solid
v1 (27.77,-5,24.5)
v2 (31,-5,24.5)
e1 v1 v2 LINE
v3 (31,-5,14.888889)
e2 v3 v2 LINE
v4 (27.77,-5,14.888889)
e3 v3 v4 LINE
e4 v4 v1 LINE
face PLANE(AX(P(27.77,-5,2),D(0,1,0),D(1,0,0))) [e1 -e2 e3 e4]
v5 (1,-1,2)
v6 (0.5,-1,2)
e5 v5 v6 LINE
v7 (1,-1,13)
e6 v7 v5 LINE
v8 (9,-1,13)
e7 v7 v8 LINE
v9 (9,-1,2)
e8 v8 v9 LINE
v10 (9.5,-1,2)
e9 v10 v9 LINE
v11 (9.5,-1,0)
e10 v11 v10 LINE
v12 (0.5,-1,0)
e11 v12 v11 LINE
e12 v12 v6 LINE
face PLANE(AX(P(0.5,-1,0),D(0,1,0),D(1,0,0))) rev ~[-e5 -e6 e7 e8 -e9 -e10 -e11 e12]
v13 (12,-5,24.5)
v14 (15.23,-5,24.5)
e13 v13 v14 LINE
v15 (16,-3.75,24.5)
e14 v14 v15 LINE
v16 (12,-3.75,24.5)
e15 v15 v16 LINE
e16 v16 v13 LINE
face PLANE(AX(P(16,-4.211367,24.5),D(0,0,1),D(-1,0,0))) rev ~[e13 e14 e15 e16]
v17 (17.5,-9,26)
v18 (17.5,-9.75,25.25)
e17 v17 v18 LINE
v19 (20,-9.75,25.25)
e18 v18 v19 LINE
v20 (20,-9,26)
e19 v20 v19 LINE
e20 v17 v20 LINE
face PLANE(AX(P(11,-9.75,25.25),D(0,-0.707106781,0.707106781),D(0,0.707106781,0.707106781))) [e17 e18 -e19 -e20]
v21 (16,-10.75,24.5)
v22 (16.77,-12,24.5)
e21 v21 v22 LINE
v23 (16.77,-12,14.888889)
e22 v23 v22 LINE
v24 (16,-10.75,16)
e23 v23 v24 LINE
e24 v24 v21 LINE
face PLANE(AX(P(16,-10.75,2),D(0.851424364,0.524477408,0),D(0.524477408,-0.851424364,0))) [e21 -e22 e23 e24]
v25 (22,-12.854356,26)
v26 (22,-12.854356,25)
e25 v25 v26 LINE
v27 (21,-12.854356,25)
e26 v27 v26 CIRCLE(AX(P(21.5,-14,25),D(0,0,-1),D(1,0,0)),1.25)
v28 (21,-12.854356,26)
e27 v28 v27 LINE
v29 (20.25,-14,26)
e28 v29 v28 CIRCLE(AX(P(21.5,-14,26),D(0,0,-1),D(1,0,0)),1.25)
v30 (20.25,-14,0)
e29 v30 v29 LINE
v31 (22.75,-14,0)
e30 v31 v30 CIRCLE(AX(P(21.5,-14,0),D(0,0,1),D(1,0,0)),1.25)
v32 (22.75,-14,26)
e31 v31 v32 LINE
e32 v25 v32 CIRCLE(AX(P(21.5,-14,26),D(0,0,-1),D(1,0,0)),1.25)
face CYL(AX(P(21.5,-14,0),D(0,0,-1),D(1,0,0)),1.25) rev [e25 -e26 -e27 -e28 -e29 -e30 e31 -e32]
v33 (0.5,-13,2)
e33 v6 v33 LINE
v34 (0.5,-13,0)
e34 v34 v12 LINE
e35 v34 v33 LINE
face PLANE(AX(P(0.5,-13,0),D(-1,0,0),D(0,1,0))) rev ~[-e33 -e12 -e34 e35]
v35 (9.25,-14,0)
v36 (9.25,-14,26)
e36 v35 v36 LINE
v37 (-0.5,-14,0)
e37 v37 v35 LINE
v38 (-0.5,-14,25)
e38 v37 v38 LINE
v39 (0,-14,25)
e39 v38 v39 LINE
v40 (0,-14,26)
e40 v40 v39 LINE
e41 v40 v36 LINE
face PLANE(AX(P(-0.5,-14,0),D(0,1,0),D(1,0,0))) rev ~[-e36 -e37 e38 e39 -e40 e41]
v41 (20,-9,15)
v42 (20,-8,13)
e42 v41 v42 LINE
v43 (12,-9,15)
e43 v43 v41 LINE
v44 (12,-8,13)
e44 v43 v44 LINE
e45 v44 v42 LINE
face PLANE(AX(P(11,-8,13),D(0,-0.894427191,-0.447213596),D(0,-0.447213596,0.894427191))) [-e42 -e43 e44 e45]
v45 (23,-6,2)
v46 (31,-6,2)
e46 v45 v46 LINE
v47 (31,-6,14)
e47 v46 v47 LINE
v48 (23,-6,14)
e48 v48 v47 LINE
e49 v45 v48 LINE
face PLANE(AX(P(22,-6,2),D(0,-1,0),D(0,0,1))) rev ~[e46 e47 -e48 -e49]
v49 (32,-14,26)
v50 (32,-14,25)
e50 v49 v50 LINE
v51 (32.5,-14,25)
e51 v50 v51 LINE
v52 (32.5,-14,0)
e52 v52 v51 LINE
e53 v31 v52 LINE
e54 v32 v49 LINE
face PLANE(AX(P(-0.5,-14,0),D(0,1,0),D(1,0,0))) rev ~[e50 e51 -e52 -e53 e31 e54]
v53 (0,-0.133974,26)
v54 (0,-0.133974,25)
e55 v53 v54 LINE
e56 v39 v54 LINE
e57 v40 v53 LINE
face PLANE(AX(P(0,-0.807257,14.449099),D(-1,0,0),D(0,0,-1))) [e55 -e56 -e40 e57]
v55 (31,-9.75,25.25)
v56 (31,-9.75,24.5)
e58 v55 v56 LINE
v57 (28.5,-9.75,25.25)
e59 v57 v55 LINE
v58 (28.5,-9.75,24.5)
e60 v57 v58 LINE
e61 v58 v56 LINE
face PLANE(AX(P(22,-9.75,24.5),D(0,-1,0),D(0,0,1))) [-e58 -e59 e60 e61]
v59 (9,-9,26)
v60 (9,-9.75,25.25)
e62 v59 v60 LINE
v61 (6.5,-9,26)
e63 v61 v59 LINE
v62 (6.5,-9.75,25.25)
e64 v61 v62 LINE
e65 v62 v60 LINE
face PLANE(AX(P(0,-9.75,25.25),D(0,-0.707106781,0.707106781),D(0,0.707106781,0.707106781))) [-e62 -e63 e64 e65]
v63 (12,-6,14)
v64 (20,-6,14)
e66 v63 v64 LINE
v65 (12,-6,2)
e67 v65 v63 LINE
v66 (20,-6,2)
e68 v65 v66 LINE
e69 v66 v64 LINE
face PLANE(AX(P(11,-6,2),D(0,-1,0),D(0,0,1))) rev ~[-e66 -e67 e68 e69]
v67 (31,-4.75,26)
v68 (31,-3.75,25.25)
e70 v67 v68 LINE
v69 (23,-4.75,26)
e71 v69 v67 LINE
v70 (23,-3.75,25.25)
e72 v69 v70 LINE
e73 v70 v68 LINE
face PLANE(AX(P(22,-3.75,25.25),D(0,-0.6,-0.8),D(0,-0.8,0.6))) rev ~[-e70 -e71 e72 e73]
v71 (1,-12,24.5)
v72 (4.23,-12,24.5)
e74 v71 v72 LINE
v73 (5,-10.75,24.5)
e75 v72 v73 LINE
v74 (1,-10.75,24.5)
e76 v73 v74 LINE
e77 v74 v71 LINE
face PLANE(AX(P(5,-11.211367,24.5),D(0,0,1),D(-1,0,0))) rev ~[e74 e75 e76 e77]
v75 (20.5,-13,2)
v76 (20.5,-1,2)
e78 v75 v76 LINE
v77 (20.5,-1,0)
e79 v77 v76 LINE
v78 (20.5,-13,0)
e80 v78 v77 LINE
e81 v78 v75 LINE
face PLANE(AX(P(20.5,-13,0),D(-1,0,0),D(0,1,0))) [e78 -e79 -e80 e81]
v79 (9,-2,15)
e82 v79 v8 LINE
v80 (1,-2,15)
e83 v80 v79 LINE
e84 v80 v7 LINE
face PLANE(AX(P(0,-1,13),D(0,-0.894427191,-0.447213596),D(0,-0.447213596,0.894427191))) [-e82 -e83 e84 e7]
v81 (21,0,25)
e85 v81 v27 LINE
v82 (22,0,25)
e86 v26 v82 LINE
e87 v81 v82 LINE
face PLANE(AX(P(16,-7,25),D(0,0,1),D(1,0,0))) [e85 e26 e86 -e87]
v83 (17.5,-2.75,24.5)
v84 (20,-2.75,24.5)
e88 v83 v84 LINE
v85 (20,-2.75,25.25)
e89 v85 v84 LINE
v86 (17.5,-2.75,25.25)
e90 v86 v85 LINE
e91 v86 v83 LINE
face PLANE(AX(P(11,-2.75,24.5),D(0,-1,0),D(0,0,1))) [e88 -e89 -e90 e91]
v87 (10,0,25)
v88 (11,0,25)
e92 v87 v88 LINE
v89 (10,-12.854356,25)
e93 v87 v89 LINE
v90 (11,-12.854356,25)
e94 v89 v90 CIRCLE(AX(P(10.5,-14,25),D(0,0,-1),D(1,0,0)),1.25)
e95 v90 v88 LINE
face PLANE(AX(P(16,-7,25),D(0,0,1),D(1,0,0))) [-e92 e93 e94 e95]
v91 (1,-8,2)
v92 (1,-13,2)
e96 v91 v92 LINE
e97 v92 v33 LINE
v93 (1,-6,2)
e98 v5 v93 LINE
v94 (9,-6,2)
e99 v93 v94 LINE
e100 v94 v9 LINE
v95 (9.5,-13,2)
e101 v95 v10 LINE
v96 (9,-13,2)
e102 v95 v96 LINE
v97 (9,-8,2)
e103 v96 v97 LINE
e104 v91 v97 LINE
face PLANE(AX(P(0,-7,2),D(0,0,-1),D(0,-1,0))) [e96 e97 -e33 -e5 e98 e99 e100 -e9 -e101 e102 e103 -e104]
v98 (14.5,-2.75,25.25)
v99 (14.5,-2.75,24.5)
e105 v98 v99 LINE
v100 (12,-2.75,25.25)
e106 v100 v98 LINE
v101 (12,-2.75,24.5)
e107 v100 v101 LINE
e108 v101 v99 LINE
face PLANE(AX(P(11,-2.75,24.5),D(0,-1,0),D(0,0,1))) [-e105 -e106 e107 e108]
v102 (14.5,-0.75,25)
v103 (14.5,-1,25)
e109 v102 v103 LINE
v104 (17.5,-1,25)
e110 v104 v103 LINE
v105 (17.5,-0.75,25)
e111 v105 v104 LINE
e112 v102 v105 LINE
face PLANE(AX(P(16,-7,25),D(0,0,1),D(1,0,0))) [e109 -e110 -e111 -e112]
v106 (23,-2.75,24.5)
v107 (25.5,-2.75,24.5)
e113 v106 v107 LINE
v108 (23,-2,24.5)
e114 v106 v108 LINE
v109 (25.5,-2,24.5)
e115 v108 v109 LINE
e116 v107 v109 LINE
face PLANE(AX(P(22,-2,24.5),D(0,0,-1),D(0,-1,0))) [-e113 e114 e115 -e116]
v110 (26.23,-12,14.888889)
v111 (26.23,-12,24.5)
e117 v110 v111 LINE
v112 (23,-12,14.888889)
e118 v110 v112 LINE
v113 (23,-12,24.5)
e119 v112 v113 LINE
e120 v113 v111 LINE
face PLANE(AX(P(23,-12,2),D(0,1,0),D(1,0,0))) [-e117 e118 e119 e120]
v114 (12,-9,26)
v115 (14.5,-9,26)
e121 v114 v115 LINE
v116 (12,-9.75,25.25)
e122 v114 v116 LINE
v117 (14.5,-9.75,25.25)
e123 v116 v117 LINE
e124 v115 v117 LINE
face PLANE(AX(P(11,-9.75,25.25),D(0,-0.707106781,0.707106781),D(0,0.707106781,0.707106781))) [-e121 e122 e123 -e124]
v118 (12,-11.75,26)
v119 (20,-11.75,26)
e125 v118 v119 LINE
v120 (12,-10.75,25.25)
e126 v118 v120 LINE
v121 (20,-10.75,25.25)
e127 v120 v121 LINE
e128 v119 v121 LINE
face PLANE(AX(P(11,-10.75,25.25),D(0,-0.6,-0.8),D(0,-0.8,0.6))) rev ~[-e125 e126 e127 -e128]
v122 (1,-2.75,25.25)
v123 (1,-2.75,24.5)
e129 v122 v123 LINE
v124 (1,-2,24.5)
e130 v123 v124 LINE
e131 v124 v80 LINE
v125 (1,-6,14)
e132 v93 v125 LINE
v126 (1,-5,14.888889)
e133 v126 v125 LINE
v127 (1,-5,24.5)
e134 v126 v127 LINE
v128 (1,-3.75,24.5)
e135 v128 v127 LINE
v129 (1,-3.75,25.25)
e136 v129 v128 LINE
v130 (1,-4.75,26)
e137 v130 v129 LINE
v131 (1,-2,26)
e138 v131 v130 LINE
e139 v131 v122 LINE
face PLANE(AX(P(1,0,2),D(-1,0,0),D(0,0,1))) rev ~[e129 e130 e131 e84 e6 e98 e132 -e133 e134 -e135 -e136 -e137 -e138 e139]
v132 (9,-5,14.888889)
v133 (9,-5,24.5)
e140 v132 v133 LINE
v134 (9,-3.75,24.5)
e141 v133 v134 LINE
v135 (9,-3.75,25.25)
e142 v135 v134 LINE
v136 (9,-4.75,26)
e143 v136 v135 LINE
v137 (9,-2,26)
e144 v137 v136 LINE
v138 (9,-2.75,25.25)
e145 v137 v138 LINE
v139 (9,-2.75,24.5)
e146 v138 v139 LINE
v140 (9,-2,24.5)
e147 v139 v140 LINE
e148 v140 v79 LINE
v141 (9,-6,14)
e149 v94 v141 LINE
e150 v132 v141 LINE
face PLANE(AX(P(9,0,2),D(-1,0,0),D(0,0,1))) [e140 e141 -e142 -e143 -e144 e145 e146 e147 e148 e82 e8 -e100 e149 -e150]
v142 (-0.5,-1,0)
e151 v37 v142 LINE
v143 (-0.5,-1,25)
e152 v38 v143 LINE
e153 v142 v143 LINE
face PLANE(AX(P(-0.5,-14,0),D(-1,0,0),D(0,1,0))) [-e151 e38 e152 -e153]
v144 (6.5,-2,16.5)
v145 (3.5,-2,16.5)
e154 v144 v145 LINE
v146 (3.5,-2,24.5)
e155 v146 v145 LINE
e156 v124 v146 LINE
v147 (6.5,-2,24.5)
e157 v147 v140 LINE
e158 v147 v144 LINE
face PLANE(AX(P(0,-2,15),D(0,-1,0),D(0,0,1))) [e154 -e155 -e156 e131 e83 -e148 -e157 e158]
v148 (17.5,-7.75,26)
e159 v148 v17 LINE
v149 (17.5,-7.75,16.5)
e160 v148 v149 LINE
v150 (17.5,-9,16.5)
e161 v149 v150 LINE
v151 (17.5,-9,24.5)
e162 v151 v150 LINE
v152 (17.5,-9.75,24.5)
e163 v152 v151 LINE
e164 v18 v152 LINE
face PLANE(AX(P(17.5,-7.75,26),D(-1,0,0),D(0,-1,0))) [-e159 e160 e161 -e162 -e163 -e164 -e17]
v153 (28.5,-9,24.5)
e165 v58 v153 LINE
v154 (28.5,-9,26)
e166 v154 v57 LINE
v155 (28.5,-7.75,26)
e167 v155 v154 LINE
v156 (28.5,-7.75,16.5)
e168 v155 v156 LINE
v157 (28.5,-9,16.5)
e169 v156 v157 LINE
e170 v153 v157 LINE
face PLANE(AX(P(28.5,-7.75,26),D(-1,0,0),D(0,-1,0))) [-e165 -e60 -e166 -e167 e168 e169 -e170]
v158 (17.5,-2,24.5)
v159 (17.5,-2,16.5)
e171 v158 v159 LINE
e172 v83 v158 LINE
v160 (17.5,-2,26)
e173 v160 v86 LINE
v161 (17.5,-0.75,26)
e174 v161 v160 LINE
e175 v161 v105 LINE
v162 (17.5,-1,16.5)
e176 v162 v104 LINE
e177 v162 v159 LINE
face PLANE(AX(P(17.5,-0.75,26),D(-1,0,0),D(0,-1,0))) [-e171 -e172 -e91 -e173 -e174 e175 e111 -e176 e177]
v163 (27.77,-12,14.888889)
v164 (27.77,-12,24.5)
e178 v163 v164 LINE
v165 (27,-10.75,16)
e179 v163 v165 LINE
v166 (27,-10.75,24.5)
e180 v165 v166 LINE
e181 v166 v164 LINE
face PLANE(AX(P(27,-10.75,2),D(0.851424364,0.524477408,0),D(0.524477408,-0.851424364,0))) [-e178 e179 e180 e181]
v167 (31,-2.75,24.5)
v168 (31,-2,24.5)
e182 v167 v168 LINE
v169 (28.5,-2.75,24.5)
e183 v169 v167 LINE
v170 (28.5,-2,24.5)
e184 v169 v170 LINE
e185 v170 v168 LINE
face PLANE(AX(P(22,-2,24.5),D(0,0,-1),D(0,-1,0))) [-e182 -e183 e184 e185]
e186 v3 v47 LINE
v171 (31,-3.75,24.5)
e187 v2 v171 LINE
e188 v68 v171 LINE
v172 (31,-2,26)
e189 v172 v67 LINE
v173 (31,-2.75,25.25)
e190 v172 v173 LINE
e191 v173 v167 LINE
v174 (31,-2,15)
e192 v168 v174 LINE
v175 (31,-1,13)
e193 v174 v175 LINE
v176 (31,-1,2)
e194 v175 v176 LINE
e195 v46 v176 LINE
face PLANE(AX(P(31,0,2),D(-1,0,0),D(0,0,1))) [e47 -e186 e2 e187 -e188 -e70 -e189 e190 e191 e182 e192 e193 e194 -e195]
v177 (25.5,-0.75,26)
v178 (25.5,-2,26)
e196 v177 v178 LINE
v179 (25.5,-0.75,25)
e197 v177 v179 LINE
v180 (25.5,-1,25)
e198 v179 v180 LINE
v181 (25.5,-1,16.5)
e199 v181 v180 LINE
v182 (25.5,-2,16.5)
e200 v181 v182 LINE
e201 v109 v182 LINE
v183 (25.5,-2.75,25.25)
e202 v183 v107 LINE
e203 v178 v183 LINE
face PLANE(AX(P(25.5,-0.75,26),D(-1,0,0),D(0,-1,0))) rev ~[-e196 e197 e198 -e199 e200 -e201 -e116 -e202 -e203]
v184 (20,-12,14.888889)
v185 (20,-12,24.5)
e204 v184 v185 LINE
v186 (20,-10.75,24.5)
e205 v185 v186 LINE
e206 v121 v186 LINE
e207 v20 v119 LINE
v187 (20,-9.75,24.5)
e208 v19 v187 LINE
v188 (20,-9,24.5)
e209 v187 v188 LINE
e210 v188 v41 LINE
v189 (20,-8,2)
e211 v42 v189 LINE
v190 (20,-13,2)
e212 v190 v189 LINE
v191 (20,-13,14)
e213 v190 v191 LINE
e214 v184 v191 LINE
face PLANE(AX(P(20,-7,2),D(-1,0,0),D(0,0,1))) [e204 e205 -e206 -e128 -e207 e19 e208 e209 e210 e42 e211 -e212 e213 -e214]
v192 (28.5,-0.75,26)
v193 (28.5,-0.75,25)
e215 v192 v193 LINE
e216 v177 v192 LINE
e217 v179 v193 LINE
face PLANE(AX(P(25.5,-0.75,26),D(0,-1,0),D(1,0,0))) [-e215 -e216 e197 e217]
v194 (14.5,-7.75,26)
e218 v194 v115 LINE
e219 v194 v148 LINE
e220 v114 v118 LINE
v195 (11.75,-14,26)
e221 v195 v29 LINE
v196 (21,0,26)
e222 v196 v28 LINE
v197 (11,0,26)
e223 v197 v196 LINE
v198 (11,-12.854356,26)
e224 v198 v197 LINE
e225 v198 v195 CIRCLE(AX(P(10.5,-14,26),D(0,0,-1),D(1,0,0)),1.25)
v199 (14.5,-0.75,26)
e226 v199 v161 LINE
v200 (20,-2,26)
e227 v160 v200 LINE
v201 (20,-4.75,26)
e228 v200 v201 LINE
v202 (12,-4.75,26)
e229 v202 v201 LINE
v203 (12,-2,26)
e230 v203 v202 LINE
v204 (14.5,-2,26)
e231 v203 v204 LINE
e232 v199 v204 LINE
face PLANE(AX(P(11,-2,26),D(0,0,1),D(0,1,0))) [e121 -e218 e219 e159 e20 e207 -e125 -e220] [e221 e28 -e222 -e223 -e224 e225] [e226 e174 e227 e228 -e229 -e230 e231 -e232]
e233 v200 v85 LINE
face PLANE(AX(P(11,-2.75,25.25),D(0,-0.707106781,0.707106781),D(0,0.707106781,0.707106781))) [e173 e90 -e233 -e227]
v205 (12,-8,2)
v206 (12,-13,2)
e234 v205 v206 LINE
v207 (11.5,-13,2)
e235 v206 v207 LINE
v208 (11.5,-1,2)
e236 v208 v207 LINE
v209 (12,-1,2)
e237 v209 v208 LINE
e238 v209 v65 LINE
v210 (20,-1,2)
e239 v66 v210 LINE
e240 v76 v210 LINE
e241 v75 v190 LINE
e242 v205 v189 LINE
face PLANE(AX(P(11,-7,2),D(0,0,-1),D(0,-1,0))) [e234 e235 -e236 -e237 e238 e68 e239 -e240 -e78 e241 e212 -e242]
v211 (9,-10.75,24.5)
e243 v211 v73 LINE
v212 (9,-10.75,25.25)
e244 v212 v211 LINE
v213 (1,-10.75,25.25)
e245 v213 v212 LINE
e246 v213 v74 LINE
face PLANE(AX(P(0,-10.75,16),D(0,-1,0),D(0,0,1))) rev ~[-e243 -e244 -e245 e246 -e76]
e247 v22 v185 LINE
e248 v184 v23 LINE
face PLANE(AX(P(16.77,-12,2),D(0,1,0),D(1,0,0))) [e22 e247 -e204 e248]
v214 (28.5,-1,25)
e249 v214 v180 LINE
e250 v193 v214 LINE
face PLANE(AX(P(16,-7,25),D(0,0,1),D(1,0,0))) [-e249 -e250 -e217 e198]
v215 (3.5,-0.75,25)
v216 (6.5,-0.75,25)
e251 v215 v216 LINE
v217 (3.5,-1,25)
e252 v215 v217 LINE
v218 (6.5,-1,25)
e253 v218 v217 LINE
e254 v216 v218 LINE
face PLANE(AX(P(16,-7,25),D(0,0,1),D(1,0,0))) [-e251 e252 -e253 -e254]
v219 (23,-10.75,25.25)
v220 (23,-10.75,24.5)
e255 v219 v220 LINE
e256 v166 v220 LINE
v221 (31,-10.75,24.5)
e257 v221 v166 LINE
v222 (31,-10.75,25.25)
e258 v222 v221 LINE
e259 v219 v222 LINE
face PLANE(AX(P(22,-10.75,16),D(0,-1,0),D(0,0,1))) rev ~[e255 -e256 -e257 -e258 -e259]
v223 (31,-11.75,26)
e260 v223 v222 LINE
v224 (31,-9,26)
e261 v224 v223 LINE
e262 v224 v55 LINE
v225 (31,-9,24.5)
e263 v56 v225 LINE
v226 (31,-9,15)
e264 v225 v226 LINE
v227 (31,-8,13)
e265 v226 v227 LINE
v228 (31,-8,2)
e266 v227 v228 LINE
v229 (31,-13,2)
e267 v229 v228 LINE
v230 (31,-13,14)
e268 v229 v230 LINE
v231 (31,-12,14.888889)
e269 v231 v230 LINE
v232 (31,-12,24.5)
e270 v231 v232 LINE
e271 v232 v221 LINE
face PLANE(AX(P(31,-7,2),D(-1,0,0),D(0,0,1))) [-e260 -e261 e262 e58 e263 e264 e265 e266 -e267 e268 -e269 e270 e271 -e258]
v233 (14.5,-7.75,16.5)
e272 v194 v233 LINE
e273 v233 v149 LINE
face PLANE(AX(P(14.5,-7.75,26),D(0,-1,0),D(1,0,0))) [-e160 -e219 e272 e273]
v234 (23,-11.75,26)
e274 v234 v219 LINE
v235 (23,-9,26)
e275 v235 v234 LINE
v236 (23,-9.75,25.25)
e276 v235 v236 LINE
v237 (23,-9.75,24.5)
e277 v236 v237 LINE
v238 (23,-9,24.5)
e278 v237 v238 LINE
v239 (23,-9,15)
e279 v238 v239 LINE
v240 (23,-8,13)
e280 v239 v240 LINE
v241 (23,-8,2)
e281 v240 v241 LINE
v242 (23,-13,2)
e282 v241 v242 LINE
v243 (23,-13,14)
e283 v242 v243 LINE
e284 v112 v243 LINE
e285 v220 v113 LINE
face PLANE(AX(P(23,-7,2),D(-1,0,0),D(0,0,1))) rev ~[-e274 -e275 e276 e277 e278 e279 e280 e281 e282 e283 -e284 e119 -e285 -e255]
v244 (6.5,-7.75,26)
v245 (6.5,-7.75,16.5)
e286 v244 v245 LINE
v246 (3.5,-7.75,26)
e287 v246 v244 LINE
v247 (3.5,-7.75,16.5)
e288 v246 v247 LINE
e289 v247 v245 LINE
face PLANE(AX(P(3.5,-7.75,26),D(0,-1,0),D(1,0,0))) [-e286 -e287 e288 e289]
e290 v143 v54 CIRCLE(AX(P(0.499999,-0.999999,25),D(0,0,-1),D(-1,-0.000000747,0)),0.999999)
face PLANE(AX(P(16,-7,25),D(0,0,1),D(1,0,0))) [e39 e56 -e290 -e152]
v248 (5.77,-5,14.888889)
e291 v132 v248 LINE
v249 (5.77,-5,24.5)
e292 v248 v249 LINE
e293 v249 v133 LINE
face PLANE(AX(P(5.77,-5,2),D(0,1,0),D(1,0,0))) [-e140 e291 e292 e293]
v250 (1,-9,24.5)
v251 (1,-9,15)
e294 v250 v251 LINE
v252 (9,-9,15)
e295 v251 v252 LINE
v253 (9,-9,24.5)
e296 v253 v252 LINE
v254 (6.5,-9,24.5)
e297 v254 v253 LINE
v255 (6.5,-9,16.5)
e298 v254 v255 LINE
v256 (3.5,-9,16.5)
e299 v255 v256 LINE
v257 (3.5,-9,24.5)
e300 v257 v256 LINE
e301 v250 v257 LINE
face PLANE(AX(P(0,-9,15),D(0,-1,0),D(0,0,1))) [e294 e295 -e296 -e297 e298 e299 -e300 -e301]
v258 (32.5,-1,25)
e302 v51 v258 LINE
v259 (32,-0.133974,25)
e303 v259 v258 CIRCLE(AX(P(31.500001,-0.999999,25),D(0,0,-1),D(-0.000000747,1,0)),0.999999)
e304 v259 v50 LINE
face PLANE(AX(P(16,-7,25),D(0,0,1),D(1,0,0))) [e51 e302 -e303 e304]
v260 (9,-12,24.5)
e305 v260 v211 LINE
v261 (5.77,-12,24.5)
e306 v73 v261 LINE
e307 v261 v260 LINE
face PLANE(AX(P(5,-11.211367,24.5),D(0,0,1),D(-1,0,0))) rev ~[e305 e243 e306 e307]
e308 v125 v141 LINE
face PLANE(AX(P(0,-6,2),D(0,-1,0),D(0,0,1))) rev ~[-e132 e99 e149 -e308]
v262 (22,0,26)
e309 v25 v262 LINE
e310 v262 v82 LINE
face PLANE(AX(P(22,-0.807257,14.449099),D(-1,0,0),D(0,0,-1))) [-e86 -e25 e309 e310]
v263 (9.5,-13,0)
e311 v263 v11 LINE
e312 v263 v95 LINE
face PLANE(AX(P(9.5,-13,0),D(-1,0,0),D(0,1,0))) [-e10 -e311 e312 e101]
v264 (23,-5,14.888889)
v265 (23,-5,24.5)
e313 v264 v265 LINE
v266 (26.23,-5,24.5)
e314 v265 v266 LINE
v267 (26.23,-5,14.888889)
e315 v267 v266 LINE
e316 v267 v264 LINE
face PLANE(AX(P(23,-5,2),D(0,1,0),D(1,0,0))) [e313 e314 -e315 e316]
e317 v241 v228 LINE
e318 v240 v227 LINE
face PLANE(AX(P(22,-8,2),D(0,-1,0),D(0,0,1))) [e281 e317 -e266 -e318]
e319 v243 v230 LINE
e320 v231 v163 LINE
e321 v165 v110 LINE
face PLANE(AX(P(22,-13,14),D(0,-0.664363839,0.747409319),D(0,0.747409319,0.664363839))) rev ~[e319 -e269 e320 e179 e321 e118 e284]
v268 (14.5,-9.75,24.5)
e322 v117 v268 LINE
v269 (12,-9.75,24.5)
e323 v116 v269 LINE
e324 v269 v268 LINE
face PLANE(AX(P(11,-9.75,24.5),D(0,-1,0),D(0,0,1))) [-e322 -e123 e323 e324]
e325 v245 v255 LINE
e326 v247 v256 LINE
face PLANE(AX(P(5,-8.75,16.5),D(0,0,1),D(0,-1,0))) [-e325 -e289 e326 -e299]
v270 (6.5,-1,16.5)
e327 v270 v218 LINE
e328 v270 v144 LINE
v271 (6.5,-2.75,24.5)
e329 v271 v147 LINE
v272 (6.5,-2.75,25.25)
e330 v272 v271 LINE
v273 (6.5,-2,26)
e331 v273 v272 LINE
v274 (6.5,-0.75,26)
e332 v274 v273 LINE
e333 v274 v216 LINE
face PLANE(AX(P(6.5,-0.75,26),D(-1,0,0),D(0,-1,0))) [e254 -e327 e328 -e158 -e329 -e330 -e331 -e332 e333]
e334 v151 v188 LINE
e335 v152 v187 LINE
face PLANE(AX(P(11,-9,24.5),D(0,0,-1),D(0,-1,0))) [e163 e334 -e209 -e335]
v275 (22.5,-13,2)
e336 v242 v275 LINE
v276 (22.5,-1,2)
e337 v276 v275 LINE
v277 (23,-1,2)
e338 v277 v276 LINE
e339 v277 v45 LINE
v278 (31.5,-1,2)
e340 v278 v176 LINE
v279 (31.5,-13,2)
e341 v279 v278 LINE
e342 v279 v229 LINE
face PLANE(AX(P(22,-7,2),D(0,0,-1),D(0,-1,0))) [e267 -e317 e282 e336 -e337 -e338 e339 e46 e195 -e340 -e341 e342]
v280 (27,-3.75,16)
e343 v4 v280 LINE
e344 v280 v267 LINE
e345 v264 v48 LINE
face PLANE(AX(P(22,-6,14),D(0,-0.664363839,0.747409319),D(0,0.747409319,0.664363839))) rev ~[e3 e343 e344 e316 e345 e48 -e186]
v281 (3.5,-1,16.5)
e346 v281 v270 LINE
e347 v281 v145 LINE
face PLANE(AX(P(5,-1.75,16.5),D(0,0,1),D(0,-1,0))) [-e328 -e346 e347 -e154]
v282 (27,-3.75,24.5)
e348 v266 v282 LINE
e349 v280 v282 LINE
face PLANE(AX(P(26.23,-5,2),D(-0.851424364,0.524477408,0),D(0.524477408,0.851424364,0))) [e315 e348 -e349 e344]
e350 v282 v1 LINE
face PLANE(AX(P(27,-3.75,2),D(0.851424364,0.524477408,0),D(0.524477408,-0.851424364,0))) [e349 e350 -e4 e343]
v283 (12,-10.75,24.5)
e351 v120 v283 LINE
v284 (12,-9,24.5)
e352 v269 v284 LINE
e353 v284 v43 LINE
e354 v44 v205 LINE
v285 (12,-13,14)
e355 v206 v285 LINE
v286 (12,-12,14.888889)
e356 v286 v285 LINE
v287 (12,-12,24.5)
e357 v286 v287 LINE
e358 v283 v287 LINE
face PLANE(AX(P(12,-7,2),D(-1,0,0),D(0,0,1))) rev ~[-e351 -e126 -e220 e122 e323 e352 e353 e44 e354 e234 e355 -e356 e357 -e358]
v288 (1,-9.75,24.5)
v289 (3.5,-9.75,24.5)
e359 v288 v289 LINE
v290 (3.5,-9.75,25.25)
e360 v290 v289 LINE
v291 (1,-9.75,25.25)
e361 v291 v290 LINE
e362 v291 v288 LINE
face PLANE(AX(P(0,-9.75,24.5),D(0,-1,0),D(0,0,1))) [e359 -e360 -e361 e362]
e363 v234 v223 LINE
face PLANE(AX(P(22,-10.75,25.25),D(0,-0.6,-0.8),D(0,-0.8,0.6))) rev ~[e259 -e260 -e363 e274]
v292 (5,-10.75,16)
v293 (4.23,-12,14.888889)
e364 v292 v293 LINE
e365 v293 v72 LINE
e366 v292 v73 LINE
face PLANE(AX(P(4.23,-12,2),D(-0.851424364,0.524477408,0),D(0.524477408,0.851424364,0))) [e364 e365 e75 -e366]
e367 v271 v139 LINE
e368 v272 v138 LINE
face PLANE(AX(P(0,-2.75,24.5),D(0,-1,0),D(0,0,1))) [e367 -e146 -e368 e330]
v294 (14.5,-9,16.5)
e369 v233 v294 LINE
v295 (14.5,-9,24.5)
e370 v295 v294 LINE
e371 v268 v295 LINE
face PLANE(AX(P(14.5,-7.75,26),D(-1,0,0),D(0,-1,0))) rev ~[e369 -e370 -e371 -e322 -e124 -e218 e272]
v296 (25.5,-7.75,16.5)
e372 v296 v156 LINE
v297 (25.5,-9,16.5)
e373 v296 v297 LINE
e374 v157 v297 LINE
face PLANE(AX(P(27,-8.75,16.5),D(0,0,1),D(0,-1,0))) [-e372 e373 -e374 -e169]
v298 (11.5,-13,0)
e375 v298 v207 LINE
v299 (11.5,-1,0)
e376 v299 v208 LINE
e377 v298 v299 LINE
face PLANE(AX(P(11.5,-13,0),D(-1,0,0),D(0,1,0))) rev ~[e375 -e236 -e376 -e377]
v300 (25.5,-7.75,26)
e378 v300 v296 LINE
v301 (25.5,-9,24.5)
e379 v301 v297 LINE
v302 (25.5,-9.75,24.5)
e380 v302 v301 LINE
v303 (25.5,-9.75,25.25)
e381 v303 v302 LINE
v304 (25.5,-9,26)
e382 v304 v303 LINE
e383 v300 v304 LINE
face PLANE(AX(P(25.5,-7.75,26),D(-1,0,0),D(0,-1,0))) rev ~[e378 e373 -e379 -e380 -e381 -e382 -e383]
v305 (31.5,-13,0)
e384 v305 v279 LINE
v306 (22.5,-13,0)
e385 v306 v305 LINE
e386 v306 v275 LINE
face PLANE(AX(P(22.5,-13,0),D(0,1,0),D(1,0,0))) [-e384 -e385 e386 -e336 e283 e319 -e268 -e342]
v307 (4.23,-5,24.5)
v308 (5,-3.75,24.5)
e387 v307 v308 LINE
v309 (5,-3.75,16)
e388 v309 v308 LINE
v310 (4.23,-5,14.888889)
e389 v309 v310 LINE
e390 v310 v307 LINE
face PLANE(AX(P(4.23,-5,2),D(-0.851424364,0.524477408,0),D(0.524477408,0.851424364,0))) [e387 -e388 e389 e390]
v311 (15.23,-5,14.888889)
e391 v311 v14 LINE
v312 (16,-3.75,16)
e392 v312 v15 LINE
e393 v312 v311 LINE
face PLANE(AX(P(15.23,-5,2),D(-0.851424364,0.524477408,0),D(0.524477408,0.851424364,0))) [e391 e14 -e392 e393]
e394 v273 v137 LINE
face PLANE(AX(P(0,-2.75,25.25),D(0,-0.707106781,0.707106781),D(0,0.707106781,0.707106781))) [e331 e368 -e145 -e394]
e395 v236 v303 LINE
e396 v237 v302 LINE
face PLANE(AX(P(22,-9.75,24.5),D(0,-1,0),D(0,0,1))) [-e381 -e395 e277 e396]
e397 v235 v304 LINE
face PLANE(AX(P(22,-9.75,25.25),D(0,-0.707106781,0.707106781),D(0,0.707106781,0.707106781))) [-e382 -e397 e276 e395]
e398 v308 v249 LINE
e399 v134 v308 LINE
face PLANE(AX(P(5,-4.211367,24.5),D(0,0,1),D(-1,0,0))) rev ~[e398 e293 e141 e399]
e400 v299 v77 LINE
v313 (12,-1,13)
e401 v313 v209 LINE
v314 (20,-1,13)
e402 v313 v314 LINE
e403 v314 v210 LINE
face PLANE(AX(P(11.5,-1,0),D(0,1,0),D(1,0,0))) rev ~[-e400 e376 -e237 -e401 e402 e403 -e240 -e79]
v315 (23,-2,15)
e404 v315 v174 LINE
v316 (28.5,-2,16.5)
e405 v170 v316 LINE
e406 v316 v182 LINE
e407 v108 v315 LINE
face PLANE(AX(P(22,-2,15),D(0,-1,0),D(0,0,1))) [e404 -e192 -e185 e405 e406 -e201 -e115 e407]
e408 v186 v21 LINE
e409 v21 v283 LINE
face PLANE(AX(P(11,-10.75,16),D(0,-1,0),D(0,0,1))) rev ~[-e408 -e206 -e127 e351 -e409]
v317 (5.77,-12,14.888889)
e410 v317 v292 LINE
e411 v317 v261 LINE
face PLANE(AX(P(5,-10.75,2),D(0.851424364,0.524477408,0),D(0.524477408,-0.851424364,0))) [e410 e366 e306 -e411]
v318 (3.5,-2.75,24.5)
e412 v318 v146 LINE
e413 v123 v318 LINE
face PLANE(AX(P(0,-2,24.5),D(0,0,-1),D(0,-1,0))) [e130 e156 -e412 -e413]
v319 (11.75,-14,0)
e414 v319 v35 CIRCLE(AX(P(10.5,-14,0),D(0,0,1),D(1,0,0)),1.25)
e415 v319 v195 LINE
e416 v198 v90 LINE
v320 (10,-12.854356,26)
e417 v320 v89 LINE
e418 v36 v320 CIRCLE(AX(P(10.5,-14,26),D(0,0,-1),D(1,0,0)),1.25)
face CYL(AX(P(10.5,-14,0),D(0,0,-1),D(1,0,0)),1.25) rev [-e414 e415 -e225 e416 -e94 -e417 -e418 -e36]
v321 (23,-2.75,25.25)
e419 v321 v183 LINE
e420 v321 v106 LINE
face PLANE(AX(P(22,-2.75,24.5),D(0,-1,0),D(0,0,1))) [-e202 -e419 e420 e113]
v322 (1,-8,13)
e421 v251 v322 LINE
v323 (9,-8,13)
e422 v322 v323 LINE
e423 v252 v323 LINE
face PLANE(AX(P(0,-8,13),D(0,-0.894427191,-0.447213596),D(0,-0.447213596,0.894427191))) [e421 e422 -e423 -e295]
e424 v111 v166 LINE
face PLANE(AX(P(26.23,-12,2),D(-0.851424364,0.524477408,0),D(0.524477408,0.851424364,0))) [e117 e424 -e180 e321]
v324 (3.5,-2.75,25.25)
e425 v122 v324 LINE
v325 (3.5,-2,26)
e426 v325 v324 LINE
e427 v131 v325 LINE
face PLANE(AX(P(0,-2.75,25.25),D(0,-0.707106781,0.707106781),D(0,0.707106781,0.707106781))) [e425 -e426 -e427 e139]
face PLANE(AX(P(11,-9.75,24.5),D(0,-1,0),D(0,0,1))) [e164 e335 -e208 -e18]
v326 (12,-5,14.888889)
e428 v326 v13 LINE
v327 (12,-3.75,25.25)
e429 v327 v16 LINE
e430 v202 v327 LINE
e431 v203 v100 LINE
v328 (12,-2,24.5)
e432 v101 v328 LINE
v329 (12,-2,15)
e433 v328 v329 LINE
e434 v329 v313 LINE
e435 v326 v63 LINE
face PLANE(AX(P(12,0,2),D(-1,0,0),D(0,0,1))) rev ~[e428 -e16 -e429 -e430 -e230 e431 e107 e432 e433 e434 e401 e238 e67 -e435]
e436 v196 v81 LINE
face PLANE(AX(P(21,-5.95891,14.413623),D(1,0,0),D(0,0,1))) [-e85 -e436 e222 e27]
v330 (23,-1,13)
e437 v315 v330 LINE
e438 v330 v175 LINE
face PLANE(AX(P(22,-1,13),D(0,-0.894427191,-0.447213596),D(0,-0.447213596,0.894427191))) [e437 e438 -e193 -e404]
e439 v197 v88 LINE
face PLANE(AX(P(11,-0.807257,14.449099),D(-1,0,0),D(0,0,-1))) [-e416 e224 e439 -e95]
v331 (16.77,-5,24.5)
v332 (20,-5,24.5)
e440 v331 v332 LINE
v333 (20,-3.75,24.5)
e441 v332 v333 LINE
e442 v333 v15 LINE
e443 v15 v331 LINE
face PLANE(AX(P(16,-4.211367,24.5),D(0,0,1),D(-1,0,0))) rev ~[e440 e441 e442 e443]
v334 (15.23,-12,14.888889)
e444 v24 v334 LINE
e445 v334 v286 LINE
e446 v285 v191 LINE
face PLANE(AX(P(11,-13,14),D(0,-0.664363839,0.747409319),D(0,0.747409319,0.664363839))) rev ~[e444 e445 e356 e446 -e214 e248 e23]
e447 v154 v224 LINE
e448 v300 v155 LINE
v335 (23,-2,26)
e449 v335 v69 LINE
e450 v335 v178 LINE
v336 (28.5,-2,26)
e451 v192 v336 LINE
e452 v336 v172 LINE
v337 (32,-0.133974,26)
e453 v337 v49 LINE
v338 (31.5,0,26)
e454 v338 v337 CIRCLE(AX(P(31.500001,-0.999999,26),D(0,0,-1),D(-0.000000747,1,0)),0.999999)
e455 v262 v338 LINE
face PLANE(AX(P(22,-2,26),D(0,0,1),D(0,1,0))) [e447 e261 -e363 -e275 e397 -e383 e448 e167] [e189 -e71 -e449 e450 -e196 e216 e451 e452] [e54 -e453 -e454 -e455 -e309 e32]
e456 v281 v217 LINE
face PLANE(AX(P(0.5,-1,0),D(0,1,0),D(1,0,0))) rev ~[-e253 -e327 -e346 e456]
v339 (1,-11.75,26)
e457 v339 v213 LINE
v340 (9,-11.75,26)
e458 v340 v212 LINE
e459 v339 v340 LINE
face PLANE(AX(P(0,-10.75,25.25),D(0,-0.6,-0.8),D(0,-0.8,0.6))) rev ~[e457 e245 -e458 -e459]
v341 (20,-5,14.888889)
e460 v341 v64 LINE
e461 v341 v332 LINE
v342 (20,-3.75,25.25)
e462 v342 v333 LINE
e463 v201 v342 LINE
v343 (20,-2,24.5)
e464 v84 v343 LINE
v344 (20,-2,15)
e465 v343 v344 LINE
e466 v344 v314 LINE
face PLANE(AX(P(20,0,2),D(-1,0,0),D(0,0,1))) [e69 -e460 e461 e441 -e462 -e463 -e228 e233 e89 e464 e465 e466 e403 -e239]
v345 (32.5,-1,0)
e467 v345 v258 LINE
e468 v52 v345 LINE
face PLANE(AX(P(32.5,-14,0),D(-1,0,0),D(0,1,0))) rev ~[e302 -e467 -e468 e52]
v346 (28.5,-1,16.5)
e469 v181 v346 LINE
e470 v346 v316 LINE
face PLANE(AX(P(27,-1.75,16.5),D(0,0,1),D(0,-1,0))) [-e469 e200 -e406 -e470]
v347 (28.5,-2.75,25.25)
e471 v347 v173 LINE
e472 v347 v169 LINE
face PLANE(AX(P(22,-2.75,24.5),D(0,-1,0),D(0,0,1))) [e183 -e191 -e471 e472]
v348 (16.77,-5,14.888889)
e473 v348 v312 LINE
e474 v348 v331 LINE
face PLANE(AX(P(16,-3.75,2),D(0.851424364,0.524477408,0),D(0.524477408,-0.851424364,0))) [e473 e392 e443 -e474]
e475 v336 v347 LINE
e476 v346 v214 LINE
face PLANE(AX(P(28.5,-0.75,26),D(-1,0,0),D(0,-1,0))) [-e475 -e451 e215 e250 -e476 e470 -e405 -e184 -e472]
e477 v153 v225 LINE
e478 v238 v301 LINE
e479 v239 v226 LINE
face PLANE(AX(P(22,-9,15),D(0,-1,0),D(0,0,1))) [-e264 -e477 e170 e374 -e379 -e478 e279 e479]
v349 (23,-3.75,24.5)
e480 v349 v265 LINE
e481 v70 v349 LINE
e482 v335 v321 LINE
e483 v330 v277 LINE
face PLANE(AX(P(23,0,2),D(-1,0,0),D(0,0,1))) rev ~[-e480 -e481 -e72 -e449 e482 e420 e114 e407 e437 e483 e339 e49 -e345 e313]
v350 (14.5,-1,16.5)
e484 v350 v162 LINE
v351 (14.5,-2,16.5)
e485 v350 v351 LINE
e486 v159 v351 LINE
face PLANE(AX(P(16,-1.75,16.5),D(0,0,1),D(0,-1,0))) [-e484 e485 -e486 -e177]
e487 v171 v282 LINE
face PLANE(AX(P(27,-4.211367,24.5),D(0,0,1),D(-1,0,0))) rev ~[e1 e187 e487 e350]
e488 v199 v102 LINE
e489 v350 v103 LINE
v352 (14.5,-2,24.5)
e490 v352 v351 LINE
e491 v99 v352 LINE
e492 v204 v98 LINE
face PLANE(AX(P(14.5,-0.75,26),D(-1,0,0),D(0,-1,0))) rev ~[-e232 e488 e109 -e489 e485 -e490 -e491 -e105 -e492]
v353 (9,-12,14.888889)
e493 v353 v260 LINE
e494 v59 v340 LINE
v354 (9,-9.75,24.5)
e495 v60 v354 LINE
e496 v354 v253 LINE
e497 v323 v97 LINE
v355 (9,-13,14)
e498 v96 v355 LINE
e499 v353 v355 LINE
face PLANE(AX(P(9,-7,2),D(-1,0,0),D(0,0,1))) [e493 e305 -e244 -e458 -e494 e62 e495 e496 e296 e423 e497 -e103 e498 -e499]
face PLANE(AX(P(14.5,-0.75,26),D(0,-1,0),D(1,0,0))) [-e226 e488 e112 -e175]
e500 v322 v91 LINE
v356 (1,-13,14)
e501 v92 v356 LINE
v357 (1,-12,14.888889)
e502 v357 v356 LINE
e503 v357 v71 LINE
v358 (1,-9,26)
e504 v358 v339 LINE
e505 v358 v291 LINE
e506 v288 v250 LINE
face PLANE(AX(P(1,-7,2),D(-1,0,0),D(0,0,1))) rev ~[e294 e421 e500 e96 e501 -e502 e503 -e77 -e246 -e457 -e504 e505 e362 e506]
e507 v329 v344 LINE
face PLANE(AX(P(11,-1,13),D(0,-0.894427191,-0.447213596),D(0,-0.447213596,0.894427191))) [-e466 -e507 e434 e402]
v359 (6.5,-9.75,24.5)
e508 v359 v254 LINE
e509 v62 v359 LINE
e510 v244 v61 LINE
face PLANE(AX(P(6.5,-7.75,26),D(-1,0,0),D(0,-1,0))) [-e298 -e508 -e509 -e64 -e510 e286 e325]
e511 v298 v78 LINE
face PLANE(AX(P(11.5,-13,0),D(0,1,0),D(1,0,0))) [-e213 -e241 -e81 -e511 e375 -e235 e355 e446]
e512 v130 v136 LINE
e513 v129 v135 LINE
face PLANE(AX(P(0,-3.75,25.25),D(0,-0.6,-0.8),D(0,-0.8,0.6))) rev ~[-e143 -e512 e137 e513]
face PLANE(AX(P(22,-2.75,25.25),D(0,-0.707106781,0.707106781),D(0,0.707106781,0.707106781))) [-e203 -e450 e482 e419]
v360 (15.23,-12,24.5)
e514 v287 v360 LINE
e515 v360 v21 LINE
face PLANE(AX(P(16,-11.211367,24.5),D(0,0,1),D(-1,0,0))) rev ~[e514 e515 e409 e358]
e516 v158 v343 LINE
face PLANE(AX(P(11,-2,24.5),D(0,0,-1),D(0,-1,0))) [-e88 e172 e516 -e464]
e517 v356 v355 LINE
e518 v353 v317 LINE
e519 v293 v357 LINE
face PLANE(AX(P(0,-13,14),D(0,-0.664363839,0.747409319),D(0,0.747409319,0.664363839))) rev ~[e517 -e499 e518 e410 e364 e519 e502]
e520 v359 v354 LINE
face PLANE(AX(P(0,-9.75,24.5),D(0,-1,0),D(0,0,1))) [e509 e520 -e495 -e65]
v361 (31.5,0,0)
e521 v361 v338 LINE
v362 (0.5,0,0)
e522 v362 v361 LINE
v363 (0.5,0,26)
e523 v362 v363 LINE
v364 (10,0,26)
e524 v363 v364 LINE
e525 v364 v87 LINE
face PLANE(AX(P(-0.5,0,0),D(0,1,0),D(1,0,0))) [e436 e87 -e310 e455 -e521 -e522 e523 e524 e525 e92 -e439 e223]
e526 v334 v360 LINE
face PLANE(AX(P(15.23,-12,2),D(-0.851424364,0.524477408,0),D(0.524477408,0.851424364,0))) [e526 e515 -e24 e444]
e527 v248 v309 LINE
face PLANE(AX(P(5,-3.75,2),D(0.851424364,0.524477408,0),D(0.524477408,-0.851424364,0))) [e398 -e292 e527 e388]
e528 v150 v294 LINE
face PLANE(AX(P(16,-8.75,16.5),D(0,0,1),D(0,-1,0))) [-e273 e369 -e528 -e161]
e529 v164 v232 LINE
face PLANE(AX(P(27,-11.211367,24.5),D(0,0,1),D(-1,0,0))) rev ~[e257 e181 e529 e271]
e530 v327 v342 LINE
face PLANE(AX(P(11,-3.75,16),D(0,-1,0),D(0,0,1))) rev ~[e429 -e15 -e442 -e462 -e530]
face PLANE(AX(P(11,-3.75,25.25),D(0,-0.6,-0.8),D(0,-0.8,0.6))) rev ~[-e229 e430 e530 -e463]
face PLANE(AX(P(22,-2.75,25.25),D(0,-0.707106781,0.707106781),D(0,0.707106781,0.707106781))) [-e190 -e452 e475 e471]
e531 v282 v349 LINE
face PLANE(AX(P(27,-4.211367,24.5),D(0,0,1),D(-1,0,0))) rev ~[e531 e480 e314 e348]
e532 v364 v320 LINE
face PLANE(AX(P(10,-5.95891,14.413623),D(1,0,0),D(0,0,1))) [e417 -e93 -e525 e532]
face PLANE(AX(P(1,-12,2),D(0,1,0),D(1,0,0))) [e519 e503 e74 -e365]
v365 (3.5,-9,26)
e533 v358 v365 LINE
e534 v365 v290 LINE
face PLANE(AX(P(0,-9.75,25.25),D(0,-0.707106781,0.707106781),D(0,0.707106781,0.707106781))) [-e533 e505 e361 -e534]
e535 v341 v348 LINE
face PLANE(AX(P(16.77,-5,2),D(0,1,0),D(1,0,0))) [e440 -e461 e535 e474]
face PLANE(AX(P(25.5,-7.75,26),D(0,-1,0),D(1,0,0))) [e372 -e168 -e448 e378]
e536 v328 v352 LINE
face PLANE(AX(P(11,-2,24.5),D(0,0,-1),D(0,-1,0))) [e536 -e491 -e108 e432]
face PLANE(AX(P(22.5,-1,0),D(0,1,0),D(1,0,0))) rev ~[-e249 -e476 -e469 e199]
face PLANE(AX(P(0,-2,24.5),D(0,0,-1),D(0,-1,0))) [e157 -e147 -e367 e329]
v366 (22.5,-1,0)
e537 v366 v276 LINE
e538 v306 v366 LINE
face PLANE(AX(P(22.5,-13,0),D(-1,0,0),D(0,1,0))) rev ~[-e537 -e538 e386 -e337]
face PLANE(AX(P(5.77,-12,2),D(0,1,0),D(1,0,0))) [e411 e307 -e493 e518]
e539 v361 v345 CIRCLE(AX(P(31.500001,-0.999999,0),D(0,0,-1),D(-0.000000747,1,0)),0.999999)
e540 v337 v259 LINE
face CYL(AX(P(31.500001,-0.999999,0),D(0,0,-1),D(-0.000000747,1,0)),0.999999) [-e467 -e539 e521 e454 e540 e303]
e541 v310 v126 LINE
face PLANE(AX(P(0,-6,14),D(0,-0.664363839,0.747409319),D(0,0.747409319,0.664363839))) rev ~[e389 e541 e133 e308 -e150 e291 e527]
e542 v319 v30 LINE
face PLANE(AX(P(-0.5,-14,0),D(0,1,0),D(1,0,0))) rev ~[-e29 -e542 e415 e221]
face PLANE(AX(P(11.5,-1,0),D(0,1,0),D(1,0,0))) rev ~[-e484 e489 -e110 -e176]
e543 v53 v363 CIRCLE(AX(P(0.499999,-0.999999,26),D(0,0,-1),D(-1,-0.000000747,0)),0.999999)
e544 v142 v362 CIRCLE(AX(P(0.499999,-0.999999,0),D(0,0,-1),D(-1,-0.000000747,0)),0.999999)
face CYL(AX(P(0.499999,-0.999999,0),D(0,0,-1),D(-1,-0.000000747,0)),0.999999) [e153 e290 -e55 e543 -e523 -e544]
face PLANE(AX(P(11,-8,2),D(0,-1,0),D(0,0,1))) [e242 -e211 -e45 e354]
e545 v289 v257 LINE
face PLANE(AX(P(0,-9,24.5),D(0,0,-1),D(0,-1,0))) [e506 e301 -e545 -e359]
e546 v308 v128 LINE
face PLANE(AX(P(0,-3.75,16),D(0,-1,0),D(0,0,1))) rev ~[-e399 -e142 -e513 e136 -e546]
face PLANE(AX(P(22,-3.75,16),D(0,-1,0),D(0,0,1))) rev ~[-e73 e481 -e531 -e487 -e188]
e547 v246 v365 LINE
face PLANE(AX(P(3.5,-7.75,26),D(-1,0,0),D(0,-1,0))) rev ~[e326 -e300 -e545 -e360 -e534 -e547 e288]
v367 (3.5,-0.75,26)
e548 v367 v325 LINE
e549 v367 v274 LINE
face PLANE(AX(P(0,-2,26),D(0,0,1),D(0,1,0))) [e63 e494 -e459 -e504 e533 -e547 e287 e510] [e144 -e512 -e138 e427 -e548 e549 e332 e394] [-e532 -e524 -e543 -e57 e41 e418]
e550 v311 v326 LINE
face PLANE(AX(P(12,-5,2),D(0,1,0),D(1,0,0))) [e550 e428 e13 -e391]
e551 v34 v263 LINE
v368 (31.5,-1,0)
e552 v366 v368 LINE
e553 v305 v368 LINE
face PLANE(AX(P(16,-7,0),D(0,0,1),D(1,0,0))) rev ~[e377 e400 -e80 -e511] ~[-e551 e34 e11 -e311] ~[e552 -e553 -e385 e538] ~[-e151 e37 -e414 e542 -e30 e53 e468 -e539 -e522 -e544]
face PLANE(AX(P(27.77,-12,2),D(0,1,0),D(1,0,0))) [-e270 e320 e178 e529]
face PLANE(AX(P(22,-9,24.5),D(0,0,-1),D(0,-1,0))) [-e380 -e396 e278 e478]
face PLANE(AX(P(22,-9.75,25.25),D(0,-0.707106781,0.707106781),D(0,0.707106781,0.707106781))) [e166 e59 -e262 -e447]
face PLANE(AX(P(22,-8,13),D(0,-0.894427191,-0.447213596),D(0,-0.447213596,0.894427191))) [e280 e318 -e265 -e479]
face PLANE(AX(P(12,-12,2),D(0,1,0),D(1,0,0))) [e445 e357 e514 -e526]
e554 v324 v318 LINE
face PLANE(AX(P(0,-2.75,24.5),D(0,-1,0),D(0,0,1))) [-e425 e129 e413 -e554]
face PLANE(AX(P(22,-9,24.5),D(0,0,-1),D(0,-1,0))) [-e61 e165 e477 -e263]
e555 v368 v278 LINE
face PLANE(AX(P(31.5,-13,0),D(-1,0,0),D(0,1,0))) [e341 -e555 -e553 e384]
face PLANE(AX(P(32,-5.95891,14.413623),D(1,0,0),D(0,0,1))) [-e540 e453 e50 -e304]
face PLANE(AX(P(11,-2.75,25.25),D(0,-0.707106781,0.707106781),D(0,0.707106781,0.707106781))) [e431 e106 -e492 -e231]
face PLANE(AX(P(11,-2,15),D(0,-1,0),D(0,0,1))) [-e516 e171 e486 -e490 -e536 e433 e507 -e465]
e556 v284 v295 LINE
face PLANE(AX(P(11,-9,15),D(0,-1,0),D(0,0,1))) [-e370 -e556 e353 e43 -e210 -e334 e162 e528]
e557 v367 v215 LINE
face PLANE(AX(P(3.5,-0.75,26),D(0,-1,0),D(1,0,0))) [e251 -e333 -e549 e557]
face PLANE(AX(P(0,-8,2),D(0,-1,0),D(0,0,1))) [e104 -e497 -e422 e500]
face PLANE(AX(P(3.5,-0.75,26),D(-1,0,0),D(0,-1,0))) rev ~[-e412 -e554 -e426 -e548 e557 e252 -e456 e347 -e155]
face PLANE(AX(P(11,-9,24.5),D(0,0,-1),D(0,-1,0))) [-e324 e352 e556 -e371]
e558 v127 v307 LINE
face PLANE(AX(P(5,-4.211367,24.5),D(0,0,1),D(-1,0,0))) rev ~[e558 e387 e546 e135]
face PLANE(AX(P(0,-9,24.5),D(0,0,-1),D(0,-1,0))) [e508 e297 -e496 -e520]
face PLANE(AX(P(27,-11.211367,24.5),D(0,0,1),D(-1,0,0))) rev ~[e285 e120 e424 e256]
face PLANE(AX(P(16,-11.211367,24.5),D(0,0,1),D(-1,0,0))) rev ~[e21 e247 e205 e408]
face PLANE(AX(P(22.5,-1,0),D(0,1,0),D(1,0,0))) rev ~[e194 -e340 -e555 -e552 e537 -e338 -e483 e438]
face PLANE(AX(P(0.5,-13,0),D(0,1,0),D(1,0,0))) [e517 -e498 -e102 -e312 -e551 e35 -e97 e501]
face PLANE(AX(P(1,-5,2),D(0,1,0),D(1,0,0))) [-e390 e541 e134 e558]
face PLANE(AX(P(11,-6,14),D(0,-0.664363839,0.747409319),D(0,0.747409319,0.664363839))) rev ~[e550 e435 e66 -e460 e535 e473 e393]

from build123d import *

# Parameters (mm, degrees)
EXTRUDE001_DEPTH        = 30
EXTRUDE_DEPTH           = 30
PAD003_DEPTH            = 10
SKETCH010_W             = 1
SKETCH010_H             = 24
PAD004_DEPTH            = 6
SKETCH011_W             = 2
SKETCH011_H             = 3
POCKET005_DEPTH         = 9.5
POCKET006_DEPTH         = 22.5
BODY002_PLACEMENT_ANGLE = 90
SKETCH_W                = 33
SKETCH_H                = 14
PAD_DEPTH               = 25
SKETCH012_W             = 9
SKETCH012_H             = 12
POCKET_DEPTH            = 25.001


with BuildPart() as rounded:
    # Sketch014 → Extrude001 (new body)
    with BuildSketch(Plane(origin=(0, 0, 0), x_dir=(1, 0, 0), z_dir=(0, 0, -1))):
        with BuildLine():
            ThreePointArc((-0.5, 1), (-0.207107, 0.292893), (0.5, 0))
            Line((0.5, 0), (31.5, 0))
            ThreePointArc((31.5, 0), (32.207107, 0.292893), (32.5, 1))
            Line((32.5, 1), (37.5, 1))
            Line((37.5, 1), (37.5, -4))
            Line((-5.5, -4), (37.5, -4))
            Line((-5.5, 1), (-5.5, -4))
            Line((-0.5, 1), (-5.5, 1))
        make_face()
    extrude(amount=-EXTRUDE001_DEPTH)


with BuildPart() as extrude_body:
    # Sketch013 → Extrude (new body)
    with BuildSketch(Plane.XY):
        with BuildLine():
            ThreePointArc((11.75, -14), (10.5, -12.75), (9.25, -14))
            Line((9.25, -14), (9.25, -15))
            Line((9.25, -15), (22.75, -15))
            Line((22.75, -15), (22.75, -14))
            ThreePointArc((22.75, -14), (21.5, -12.75), (20.25, -14))
            Line((11.75, -14), (20.25, -14))
        make_face()
    extrude(amount=EXTRUDE_DEPTH)


with BuildPart() as pinhousing:
    # Sketch009 → Pad003 (new body)
    with BuildSketch(Plane.YZ):
        Polygon((0, 0), (0, 1), (11, 1), (13, 2), (22.5, 2), (22.5, 2.75), (23.25, 2.75), (24, 2), (24, 0), align=None)
        Polygon((0, 6), (12, 6), (14, 3.75), (23.25, 3.75), (24, 4.75), (24, 7), (0, 7), align=None)
    extrude(amount=PAD003_DEPTH)

    # Sketch010 → Pad004 (join)
    with BuildSketch(Plane.XY):
        with Locations((0.5, 12)):
            Rectangle(SKETCH010_W, SKETCH010_H)
        with Locations((9.5, 12)):
            Rectangle(SKETCH010_W, SKETCH010_H)
    extrude(amount=PAD004_DEPTH)

    # Sketch011 (on Face17 of Pad003) → Pocket005 (cut)
    with BuildSketch(Plane.ZX.offset(24)):
        with Locations((1.75, 5)):
            Rectangle(SKETCH011_W, SKETCH011_H)
    extrude(amount=-POCKET005_DEPTH, mode=Mode.SUBTRACT)

    # Sketch003 → Pocket006 (cut)
    with BuildSketch(Plane.XZ):
        Polygon((1, 5), (4.23, 5), (5, 3.75), (5.77, 5), (9, 5), (9, 3.5), (1, 3.5), align=None)
    extrude(amount=-POCKET006_DEPTH, mode=Mode.SUBTRACT)


with BuildPart() as pinhousing_1:
    # Body002 placement: moved
    add(pinhousing.part.moved(Location((0, 0, 2))).rotate(Axis((0, 0, 2), (1, 0, 0)), BODY002_PLACEMENT_ANGLE))


with BuildPart() as pin6:
    # Body007 base: copy of PinHousing
    add(pinhousing_1.part)


with BuildPart() as pin6_1:
    # Body007 placement: moved
    add(pin6.part.moved(Location((22, -7, 0))))


with BuildPart() as pin5:
    # Body006 base: copy of PinHousing
    add(pinhousing_1.part)


with BuildPart() as pin5_1:
    # Body006 placement: moved
    add(pin5.part.moved(Location((11, -7, 0))))


with BuildPart() as pin4:
    # Body005 base: copy of PinHousing
    add(pinhousing_1.part)


with BuildPart() as pin4_1:
    # Body005 placement: moved
    add(pin4.part.moved(Location((0, -7, 0))))


with BuildPart() as pin3:
    # Body004 base: copy of PinHousing
    add(pinhousing_1.part)


with BuildPart() as pin3_1:
    # Body004 placement: moved
    add(pin3.part.moved(Location((22, 0, 0))))


with BuildPart() as pin2:
    # Body003 base: copy of PinHousing
    add(pinhousing_1.part)


with BuildPart() as pin2_1:
    # Body003 placement: moved
    add(pin2.part.moved(Location((11, 0, 0))))


with BuildPart() as pin1:
    # Body base: copy of PinHousing
    add(pinhousing_1.part)


with BuildPart() as finaldipplug:
    # Sketch → Pad (new body)
    with BuildSketch(Plane.XY):
        with Locations((16, -7)):
            Rectangle(SKETCH_W, SKETCH_H)
    extrude(amount=PAD_DEPTH)

    # Sketch012 → Pocket (cut, through all)
    with BuildSketch(Plane.XY):
        with Locations((5, -7)):
            Rectangle(SKETCH012_W, SKETCH012_H)
        with Locations((16, -7)):
            Rectangle(SKETCH012_W, SKETCH012_H)
        with Locations((27, -7)):
            Rectangle(SKETCH012_W, SKETCH012_H)
    extrude(amount=POCKET_DEPTH, mode=Mode.SUBTRACT)

    # Fusion: union Pin6, Pin5, Pin4, Pin3, Pin2, Pin1
    add(pin6_1.part)
    add(pin5_1.part)
    add(pin4_1.part)
    add(pin3_1.part)
    add(pin2_1.part)
    add(pin1.part)

    # Cut: cut Extrude body
    add(extrude_body.part, mode=Mode.SUBTRACT)

    # Cut001: cut Rounded
    add(rounded.part, mode=Mode.SUBTRACT)


solid = finaldipplug.part
